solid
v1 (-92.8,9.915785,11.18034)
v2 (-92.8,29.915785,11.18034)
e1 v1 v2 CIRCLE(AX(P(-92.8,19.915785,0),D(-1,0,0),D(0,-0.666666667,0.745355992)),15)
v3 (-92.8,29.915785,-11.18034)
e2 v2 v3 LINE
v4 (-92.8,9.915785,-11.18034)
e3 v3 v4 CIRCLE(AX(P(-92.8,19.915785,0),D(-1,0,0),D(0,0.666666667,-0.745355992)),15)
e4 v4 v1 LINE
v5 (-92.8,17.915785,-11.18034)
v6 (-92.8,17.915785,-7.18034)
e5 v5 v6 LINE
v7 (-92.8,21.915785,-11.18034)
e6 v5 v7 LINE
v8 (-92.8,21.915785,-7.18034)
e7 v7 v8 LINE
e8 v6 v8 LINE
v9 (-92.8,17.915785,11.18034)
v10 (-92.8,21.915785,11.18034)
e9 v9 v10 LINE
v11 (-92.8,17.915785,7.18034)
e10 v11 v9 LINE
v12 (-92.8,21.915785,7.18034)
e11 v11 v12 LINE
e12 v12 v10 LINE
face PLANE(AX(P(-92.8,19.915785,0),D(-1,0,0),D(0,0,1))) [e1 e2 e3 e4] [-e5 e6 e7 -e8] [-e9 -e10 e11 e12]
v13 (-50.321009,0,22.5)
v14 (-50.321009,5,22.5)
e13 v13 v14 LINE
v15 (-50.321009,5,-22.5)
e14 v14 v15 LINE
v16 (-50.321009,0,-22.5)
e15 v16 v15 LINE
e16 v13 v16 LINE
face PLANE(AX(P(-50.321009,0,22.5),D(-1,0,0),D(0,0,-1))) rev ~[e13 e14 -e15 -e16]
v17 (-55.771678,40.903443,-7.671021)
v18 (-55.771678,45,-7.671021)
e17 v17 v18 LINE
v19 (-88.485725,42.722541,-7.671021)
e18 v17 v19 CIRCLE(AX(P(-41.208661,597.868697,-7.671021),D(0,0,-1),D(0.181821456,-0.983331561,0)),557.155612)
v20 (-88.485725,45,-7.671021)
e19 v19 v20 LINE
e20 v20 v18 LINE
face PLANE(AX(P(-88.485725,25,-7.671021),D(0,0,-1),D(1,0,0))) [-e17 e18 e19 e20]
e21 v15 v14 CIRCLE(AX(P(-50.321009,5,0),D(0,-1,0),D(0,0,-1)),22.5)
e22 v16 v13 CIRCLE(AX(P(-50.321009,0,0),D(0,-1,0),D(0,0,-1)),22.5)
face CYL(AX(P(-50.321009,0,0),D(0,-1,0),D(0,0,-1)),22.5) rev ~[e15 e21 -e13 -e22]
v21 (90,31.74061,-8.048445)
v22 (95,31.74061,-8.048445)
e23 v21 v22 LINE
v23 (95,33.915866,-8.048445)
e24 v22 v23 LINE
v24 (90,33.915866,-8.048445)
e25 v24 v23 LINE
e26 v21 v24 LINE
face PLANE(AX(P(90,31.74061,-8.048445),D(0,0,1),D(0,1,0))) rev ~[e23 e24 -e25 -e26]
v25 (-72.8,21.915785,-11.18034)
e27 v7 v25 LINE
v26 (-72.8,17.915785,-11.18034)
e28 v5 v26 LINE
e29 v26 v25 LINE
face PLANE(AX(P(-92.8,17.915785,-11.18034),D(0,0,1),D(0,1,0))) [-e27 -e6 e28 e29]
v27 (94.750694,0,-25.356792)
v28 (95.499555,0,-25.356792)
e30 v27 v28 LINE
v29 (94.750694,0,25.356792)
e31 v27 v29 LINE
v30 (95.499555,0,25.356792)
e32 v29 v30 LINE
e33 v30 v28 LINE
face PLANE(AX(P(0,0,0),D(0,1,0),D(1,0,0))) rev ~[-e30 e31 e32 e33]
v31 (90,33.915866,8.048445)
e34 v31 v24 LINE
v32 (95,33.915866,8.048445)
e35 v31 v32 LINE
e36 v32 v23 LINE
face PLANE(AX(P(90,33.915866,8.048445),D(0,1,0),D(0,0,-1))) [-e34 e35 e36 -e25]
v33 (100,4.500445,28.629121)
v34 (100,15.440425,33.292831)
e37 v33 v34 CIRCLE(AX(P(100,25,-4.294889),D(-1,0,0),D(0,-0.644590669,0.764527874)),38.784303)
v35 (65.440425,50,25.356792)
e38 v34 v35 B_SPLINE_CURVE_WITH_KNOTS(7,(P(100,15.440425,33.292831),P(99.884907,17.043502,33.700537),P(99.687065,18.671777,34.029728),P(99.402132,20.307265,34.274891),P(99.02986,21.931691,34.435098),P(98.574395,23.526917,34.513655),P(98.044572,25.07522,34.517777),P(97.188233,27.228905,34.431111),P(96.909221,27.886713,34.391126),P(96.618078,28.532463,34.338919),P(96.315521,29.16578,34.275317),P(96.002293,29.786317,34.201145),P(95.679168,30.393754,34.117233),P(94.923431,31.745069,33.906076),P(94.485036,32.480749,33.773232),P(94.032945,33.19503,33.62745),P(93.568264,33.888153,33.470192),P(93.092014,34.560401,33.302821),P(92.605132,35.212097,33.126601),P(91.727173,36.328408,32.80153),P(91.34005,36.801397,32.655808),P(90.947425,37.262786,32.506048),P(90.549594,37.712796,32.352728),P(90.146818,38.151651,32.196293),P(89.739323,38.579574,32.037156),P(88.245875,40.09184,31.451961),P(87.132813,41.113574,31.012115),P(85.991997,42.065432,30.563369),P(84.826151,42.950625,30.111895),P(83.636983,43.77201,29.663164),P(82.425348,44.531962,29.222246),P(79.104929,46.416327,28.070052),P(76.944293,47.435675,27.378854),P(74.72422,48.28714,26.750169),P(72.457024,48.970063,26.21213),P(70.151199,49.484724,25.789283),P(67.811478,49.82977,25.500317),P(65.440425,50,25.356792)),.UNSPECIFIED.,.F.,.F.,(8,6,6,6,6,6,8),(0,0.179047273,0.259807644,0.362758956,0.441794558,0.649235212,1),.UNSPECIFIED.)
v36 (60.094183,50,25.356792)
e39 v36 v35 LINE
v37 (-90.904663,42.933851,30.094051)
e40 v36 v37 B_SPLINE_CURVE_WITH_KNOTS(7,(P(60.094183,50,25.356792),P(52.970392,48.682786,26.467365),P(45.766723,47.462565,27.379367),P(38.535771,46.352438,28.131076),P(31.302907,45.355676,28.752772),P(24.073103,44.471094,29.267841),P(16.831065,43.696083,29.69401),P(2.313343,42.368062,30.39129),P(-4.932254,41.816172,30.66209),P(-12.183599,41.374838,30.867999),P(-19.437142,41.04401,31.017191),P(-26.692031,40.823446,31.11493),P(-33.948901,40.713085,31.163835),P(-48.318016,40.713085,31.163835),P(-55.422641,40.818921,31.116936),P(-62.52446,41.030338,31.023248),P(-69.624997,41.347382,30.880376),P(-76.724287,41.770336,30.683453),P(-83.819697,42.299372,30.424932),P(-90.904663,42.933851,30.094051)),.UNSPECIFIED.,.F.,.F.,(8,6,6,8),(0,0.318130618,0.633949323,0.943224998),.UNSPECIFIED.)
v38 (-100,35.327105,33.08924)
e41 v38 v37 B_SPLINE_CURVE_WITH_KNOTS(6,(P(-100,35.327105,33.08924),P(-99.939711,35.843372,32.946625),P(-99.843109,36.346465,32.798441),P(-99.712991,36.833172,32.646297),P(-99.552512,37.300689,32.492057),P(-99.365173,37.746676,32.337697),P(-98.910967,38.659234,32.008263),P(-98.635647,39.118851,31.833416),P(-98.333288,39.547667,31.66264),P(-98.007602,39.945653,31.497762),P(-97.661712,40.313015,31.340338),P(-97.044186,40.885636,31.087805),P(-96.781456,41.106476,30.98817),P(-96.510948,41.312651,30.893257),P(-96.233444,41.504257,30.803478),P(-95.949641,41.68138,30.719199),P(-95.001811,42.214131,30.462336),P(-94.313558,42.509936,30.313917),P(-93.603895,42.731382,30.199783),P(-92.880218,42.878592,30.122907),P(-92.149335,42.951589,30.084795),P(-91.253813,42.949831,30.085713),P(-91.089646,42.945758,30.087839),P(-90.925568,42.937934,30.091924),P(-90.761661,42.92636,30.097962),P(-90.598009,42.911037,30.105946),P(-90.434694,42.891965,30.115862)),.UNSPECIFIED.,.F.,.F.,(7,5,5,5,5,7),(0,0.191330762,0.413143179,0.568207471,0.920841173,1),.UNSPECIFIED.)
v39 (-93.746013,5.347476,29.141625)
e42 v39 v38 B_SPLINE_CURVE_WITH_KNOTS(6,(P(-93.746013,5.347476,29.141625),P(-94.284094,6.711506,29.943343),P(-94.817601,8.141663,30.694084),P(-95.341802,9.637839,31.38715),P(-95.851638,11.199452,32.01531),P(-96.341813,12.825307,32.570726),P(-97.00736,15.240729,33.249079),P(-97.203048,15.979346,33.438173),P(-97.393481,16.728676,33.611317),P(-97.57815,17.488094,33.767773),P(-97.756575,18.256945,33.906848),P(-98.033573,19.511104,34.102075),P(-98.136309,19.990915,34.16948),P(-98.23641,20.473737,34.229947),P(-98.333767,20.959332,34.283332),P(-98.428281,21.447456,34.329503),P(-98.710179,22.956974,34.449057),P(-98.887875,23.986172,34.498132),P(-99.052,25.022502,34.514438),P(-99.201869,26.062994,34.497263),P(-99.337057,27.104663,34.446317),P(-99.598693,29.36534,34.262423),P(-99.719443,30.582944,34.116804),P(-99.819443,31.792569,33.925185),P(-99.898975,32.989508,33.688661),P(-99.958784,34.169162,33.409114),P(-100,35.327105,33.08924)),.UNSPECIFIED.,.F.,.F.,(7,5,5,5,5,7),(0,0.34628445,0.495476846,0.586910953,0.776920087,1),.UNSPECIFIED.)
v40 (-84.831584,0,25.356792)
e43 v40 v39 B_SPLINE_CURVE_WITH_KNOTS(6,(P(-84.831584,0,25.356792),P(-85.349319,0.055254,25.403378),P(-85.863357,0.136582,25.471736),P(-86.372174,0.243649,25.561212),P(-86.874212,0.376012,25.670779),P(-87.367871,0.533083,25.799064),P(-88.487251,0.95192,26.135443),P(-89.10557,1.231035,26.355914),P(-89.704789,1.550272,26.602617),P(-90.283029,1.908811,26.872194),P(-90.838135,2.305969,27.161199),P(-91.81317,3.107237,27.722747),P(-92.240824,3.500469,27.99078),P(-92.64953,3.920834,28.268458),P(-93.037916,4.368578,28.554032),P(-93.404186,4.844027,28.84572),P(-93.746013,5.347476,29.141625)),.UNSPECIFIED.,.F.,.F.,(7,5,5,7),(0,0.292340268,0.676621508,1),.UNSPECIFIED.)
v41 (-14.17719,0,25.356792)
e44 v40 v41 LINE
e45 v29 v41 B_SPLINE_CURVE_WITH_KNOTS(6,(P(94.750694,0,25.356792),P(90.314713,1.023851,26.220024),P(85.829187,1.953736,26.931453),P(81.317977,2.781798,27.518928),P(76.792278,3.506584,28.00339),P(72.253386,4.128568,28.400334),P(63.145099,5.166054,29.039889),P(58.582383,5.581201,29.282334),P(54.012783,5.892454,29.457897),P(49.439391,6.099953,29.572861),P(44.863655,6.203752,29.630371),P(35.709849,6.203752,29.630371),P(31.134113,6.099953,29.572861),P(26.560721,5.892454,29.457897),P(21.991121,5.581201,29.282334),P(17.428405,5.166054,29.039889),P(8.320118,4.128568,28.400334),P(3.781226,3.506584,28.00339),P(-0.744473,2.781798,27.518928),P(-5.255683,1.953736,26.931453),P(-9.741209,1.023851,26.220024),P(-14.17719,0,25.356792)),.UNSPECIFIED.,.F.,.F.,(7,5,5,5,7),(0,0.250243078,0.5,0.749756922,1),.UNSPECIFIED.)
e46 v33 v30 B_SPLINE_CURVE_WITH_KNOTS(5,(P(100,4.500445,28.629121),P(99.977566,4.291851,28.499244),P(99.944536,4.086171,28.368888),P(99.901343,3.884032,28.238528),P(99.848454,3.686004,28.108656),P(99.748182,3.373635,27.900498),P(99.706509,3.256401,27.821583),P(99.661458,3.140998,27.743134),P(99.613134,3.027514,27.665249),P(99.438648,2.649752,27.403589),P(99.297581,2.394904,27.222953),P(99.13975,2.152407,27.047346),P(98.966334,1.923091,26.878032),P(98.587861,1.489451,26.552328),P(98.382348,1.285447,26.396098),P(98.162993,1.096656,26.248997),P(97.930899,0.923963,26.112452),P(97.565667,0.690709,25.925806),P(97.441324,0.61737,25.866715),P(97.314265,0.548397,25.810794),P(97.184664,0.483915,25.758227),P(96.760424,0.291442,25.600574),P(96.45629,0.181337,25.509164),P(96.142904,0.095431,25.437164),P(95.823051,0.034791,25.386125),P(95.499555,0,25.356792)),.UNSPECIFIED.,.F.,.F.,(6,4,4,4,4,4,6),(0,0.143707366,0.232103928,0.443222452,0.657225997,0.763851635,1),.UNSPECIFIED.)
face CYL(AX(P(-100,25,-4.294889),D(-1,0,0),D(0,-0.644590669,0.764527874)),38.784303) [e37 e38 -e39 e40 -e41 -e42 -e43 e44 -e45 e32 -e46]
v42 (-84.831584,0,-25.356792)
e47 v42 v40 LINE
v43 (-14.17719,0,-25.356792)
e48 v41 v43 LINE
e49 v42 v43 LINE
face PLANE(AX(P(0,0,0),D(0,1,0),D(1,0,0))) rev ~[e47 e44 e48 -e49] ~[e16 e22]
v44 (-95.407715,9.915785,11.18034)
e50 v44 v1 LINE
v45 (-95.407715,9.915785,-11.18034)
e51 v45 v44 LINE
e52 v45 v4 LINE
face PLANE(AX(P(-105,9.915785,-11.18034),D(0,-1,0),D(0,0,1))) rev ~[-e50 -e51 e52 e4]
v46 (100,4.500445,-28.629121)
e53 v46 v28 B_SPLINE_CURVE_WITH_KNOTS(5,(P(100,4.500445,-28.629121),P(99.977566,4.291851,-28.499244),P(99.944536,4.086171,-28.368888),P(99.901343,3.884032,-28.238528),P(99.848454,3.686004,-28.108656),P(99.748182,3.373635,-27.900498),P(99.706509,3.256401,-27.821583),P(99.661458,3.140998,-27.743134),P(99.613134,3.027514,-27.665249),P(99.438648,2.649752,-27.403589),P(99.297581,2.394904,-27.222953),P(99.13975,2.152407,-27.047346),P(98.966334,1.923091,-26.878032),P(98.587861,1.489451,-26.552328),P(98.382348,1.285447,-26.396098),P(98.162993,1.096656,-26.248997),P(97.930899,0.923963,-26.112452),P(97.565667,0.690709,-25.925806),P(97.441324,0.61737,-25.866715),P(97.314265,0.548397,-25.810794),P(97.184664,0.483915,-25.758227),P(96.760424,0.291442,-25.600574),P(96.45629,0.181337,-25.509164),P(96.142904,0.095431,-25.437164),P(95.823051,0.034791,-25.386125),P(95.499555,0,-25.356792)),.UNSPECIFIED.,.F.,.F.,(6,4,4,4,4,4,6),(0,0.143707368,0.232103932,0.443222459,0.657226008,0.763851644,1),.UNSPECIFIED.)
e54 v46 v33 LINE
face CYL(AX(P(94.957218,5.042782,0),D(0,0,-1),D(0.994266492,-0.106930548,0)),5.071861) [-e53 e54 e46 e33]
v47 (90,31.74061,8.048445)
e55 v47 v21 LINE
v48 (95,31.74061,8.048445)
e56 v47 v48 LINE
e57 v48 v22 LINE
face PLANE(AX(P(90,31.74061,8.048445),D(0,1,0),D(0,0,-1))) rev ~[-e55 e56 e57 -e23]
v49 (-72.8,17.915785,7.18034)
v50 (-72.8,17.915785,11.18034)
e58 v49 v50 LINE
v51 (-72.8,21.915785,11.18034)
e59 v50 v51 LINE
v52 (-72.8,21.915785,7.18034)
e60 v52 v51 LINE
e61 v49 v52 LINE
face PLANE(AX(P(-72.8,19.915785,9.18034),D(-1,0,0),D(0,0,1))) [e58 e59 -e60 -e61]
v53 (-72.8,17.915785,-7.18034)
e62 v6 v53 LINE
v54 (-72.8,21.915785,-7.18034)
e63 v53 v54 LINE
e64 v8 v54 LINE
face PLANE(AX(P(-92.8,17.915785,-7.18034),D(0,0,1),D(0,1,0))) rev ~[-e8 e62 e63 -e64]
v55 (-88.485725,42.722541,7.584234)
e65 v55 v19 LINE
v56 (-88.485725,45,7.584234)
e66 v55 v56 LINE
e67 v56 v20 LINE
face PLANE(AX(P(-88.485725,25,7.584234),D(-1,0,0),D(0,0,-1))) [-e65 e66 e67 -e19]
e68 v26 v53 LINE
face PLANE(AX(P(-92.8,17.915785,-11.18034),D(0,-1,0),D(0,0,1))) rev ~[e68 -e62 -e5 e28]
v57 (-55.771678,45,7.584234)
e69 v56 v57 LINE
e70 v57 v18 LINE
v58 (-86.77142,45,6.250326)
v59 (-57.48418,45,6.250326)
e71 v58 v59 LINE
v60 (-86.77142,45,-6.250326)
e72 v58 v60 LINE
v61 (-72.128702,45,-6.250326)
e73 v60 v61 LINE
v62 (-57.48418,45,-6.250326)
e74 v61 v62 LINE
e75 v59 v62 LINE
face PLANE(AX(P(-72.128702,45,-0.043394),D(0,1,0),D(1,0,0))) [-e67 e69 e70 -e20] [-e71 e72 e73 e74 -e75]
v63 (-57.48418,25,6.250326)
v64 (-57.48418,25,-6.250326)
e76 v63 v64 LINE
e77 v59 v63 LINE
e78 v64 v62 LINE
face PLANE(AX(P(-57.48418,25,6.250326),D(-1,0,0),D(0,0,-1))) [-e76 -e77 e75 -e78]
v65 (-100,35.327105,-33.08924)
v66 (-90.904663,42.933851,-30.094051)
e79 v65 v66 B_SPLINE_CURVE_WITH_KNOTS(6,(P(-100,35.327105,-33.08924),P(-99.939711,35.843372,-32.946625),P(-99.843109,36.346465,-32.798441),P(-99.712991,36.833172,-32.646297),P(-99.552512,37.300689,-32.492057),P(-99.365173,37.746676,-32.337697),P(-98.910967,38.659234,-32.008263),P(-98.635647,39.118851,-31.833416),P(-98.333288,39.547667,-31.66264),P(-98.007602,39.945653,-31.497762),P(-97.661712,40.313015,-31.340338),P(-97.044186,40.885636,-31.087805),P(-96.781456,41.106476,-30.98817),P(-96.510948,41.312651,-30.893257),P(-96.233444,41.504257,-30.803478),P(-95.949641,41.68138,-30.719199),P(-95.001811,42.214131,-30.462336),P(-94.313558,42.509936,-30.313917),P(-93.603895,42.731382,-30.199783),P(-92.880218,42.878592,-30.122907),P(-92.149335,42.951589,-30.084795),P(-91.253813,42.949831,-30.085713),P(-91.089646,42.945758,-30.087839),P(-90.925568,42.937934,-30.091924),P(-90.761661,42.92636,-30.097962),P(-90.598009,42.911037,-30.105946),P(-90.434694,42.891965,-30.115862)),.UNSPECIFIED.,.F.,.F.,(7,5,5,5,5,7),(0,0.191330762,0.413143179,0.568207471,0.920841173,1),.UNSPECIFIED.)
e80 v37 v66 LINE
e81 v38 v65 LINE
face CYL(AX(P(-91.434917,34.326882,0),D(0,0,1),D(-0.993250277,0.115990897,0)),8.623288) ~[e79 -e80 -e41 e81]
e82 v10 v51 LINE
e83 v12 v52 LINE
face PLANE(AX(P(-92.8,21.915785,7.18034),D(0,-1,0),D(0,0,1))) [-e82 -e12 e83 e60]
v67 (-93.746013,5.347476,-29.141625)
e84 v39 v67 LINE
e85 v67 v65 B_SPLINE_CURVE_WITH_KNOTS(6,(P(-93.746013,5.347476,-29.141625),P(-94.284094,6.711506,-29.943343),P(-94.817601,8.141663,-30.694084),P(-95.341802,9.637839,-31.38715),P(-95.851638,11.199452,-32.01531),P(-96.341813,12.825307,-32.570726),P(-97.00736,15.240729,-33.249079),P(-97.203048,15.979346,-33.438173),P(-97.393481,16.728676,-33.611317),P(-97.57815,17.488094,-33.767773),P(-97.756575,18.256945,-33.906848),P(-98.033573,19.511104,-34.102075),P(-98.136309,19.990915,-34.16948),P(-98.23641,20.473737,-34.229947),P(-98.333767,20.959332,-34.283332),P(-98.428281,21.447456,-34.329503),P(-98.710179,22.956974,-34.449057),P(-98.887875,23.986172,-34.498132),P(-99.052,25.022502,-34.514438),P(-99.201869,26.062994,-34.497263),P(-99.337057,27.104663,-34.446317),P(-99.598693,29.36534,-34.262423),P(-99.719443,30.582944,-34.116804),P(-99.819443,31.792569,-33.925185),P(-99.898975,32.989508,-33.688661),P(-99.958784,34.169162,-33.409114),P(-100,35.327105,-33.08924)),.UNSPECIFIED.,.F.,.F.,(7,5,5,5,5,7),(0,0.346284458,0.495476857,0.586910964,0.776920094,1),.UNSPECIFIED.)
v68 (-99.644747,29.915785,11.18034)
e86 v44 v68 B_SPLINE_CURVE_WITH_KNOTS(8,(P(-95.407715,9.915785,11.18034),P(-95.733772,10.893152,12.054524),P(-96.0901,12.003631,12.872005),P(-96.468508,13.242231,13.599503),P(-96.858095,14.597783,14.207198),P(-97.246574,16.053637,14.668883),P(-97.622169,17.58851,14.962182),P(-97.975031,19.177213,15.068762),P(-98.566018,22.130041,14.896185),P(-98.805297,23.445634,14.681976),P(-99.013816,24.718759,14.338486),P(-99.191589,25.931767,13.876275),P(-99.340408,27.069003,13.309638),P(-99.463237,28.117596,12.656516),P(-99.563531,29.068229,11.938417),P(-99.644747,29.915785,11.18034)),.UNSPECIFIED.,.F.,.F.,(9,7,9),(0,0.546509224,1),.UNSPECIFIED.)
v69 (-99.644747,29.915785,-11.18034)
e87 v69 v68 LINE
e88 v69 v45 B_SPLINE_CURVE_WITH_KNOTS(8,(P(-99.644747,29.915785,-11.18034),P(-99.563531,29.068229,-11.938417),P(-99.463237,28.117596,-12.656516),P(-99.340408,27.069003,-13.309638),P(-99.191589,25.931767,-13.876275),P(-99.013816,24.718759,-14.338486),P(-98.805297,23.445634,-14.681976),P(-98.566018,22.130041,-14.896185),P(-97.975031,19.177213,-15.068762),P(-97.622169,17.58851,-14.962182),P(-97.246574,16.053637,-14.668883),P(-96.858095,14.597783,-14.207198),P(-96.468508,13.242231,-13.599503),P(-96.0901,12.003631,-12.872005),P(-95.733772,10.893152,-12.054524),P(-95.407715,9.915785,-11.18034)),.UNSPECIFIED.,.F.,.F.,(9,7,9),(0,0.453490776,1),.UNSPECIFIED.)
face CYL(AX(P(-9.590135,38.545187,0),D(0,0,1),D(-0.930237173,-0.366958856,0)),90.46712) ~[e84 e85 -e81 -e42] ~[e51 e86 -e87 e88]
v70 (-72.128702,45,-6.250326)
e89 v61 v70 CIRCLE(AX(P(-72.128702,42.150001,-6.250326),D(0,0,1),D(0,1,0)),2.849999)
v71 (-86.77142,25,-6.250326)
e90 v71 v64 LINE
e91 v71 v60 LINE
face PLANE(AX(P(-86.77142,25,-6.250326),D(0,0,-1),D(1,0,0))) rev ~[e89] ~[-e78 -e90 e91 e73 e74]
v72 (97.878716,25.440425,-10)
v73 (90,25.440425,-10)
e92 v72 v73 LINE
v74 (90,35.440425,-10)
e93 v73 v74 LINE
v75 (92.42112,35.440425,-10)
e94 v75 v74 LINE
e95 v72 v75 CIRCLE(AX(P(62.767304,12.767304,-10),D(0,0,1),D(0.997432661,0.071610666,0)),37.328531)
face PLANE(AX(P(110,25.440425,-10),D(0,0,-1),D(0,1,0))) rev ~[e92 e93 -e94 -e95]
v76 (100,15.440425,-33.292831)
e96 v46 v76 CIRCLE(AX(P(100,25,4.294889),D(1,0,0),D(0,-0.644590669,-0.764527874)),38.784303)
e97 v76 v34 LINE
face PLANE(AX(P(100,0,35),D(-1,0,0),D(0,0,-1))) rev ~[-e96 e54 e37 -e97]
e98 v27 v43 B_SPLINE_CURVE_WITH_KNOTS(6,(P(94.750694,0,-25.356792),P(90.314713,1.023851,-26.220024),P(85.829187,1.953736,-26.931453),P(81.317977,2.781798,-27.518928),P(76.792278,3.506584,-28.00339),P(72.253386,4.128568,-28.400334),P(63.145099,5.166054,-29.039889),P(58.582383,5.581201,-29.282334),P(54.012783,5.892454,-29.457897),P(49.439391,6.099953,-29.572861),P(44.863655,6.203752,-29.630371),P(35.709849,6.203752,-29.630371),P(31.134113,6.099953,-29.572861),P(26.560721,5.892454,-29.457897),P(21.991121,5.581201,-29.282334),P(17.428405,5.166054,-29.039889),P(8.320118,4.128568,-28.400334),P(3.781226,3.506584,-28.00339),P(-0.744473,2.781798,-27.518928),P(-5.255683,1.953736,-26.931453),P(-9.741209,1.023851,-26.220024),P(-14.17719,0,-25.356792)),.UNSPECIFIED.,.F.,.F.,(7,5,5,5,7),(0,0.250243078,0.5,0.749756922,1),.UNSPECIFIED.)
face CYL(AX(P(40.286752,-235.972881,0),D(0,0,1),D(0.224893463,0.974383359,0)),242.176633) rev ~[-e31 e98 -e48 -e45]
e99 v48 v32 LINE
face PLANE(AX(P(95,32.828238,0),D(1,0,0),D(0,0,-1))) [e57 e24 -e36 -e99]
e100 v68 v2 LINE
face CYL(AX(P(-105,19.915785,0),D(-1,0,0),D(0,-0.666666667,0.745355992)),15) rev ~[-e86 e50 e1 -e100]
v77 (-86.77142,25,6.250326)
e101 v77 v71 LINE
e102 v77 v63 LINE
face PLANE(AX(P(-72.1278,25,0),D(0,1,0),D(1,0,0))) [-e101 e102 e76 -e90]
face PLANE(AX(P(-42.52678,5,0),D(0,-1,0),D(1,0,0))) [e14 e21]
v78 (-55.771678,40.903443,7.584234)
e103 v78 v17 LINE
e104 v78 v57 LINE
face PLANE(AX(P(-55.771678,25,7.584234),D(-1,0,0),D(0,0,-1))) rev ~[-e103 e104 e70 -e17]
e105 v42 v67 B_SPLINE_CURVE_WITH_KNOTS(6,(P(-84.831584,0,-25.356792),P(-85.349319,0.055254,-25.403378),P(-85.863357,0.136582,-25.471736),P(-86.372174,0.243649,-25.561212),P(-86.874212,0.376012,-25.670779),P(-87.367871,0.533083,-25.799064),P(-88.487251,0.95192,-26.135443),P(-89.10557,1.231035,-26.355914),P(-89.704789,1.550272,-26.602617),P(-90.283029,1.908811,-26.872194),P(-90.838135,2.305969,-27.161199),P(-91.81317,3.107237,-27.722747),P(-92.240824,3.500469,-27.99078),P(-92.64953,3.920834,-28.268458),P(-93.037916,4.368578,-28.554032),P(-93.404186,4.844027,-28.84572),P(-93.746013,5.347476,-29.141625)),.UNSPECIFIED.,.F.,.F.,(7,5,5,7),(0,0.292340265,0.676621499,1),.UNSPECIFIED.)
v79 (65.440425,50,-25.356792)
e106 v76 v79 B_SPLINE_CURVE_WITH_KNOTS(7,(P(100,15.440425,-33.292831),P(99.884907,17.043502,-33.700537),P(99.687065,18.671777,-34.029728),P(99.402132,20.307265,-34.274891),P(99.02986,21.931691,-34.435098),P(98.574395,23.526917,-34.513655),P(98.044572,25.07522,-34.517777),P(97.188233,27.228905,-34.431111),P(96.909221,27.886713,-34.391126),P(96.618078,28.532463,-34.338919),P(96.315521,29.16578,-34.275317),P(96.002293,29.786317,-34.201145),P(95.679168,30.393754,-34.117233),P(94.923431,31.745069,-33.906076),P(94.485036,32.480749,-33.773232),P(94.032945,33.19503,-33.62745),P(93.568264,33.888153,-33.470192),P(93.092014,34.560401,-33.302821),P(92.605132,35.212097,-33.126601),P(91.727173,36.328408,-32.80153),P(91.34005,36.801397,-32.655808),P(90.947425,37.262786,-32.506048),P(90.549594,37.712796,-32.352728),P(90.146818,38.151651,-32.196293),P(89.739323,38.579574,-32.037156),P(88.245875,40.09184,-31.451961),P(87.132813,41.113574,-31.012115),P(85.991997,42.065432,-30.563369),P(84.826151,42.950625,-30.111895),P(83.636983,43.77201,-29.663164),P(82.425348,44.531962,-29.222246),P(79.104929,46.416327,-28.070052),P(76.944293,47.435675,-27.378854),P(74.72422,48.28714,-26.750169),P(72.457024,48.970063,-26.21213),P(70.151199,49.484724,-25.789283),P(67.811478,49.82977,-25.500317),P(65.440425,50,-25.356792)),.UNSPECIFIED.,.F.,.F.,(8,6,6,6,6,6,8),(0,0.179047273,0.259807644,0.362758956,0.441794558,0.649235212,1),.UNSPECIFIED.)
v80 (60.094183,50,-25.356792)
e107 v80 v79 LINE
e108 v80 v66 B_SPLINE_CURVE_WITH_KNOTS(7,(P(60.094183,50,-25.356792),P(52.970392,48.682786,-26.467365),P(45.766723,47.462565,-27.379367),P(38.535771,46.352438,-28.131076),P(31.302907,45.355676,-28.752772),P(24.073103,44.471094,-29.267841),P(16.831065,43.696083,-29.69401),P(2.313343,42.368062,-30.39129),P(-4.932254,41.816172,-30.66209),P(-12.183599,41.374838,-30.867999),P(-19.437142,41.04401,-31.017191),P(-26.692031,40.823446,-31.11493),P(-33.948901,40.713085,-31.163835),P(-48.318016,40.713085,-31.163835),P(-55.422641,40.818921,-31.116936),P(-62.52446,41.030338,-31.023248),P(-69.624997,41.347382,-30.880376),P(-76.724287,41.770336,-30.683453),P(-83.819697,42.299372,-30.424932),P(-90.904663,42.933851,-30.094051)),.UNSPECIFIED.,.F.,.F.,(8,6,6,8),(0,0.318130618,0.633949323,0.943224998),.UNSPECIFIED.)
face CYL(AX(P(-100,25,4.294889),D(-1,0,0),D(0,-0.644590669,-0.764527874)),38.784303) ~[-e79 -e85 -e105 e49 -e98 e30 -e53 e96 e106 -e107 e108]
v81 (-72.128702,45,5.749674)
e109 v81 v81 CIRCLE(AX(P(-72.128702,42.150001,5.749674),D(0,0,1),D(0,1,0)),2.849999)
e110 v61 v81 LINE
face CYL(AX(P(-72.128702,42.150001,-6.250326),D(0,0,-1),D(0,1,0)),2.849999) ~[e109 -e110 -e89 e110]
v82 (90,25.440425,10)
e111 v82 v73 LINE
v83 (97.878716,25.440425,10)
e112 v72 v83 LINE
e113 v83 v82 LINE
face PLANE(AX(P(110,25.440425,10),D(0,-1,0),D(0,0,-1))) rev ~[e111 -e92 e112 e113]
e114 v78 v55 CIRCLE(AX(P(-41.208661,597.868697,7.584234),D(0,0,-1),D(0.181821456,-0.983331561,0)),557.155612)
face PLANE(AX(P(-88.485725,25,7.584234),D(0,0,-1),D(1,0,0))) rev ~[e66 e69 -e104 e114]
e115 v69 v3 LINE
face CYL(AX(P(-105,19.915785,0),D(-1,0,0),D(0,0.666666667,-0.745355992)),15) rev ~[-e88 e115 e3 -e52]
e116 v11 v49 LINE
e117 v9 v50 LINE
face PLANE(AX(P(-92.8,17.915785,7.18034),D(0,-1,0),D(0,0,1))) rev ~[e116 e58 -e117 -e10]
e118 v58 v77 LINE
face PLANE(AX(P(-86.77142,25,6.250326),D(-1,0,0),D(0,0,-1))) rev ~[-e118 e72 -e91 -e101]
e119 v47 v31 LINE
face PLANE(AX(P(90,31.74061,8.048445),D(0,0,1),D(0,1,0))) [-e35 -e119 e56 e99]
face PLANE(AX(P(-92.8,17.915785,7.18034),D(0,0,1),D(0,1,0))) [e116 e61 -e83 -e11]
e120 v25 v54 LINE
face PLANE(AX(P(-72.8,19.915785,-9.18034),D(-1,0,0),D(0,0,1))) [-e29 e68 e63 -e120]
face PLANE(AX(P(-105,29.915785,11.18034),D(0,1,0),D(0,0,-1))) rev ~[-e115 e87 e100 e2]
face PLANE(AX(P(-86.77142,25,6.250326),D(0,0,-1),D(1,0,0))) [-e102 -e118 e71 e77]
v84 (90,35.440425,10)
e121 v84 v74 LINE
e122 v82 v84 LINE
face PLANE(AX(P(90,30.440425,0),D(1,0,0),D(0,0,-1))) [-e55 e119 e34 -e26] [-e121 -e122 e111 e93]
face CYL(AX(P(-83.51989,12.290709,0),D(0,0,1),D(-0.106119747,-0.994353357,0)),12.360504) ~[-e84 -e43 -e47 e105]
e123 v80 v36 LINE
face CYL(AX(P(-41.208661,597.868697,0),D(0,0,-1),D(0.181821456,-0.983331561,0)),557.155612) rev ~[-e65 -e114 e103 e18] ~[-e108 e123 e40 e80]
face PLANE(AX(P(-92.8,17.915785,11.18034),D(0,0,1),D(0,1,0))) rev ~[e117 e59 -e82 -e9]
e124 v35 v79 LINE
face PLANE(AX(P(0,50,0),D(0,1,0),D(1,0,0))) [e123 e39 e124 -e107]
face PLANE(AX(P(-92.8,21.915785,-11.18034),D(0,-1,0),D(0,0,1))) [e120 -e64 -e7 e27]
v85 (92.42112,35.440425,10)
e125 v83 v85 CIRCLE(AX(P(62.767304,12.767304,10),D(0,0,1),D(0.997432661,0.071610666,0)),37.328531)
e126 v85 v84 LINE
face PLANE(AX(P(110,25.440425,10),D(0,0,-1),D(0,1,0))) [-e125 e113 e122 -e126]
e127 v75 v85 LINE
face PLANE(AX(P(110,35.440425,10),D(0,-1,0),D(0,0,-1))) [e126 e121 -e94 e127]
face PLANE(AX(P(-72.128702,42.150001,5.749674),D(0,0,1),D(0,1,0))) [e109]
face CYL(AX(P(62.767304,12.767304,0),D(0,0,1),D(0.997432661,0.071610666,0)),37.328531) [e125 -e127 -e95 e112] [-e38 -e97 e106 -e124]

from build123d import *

# Parameters (mm, degrees)
SKETCH1_W           = 200
SKETCH1_H           = 70
BOSS_EXTRUDE1_DEPTH = 50
CUT_EXTRUDE5_DEPTH  = 200
CUT_EXTRUDE6_DEPTH  = 5
CUT_EXTRUDE7_DEPTH  = 40
CUT_EXTRUDE8_DEPTH  = 40
CUT_EXTRUDE9_DEPTH  = 40
SKETCH18_W          = 20
SKETCH18_H          = 10
CUT_EXTRUDE10_DEPTH = 20
SKETCH20_W          = 16.096890916
SKETCH20_H          = 2.175255529
BOSS_EXTRUDE2_DEPTH = 5
SKETCH22_W          = 29.287239855
SKETCH22_H          = 12.500651158
CUT_EXTRUDE11_DEPTH = 20
SKETCH23_W          = 32.71404676
SKETCH23_H          = 15.255254966
SKETCH23_W_2        = 29.287239855
SKETCH23_H_2        = 12.500651158
BOSS_EXTRUDE3_DEPTH = 20
SKETCH25_R          = 2.849998823
BOSS_EXTRUDE4_DEPTH = 12
CUT_EXTRUDE12_DEPTH = 12.2
SKETCH28_W          = 4
SKETCH28_H          = 4
CUT_EXTRUDE13_DEPTH = 20


with BuildPart() as part:
    # Sketch1 → Boss-Extrude1 (new body)
    with BuildSketch(Plane(origin=(0, 0, 0), x_dir=(1, 0, 0), z_dir=(0, 1, 0))):
        Rectangle(SKETCH1_W, SKETCH1_H)
    extrude(amount=BOSS_EXTRUDE1_DEPTH)

    # Sketch13 → Cut-Extrude5 (cut)
    with BuildSketch(Plane.ZY.offset(100)):
        with BuildLine():
            Line((-25.356792072, 50), (-35, 50))
            Line((-35, 50), (-35, 0))
            Line((-35, 0), (-25.356792072, 0))
            ThreePointArc((-25.356792072, 0), (-34.489414432, 25), (-25.356792072, 50))
        make_face()
    cut_extrude5 = extrude(amount=-CUT_EXTRUDE5_DEPTH, mode=Mode.SUBTRACT)

    # Mirror1: Cut-Extrude5 across plane
    add(cut_extrude5.mirror(Plane.XY), mode=Mode.SUBTRACT)

    # Sketch14 → Cut-Extrude6 (cut)
    with BuildSketch(Plane.XZ):
        with BuildLine():
            Line((-50.321008897, 22.5), (-50.321008897, -22.5))
            ThreePointArc((-50.321008897, -22.5), (-27.821008897, 0), (-50.321008897, 22.5))
        make_face()
    extrude(amount=-CUT_EXTRUDE6_DEPTH, mode=Mode.SUBTRACT)

    # Sketch15 → Cut-Extrude7 (cut, symmetric)
    with BuildSketch(Plane.XY):
        with BuildLine():
            Line((-14.177189609, 0), (94.750693697, 0))
            ThreePointArc((94.750693697, 0), (40.286752044, 6.203751873), (-14.177189609, 0))
        make_face()
    extrude(amount=CUT_EXTRUDE7_DEPTH, both=True, mode=Mode.SUBTRACT)

    # Sketch16 → Cut-Extrude8 (cut, symmetric)
    with BuildSketch(Plane.XY):
        with BuildLine():
            ThreePointArc((60.094183349, 50), (-19.72974209, 41.127256564), (-100, 43.823614043))
            Line((-100, 43.823614043), (-100, 50))
            Line((-100, 50), (60.094183349, 50))
        make_face()
        with BuildLine():
            Line((100, 0), (100, 4.500444902))
            ThreePointArc((100, 4.500444902), (98.543565753, 1.456434247), (95.499555098, 0))
            Line((95.499555098, 0), (100, 0))
        make_face()
        with BuildLine():
            ThreePointArc((100, 15.440425267), (89.162561497, 39.162561497), (65.440425267, 50))
            Line((65.440425267, 50), (100, 50))
            Line((100, 50), (100, 15.440425267))
        make_face()
    extrude(amount=CUT_EXTRUDE8_DEPTH, both=True, mode=Mode.SUBTRACT)

    # Sketch17 → Cut-Extrude9 (cut, symmetric)
    with BuildSketch(Plane.XY):
        with BuildLine():
            Line((-90.43469404, 42.891964914), (-105.221514707, 46.920266675))
            Line((-105.221514707, 46.920266675), (-103.893419297, 0))
            Line((-103.893419297, 0), (-84.831583922, 0))
            ThreePointArc((-84.831583922, 0), (-89.878284237, 1.691044202), (-93.746012604, 5.347475777))
            ThreePointArc((-93.746012604, 5.347475777), (-98.150815665, 20.070729134), (-100, 35.327104743))
            ThreePointArc((-100, 35.327104743), (-96.78408086, 41.090574557), (-90.43469404, 42.891964914))
        make_face()
    extrude(amount=CUT_EXTRUDE9_DEPTH, both=True, mode=Mode.SUBTRACT)

    # Sketch18 → Cut-Extrude10 (cut)
    with BuildSketch(Plane(origin=(110, 0, 0), x_dir=(0, 0, -1), z_dir=(1, 0, 0))):
        with Locations((0, 30.440425267)):
            Rectangle(SKETCH18_W, SKETCH18_H)
    extrude(amount=-CUT_EXTRUDE10_DEPTH, mode=Mode.SUBTRACT)

    # Sketch20 → Boss-Extrude2 (add)
    with BuildSketch(Plane(origin=(90, 0, 0), x_dir=(0, 0, -1), z_dir=(1, 0, 0))):
        with Locations((0, 32.828238053)):
            Rectangle(SKETCH20_W, SKETCH20_H)
    extrude(amount=BOSS_EXTRUDE2_DEPTH)

    # Sketch22 → Cut-Extrude11 (cut)
    with BuildSketch(Plane(origin=(0, 25, 0), x_dir=(1, 0, 0), z_dir=(0, 1, 0))):
        with Locations((-72.127800153, 0)):
            Rectangle(SKETCH22_W, SKETCH22_H)
    extrude(amount=CUT_EXTRUDE11_DEPTH, mode=Mode.SUBTRACT)

    # Sketch23 → Boss-Extrude3 (add)
    with BuildSketch(Plane(origin=(0, 25, 0), x_dir=(1, 0, 0), z_dir=(0, 1, 0))):
        with Locations((-72.128701672, 0.043393869)):
            Rectangle(SKETCH23_W, SKETCH23_H)
        with Locations((-72.127800153, 0)):
            Rectangle(SKETCH23_W_2, SKETCH23_H_2, mode=Mode.SUBTRACT)
    extrude(amount=BOSS_EXTRUDE3_DEPTH)

    # Sketch25 → Boss-Extrude4 (add)
    with BuildSketch(Plane.XY.offset(-6.250325579)):
        with Locations(Location((-72.128701672, 42.150001177, 0), (0, 0, 90))):
            Circle(SKETCH25_R)
    extrude(amount=BOSS_EXTRUDE4_DEPTH)

    # Sketch27 → Cut-Extrude12 (cut)
    with BuildSketch(Plane(origin=(-105, 0, 0), x_dir=(0, 0, -1), z_dir=(1, 0, 0))):
        with BuildLine():
            Line((-11.180339887, 29.915784745), (11.180339887, 29.915784745))
            ThreePointArc((11.180339887, 29.915784745), (15, 19.915784745), (11.180339887, 9.915784745))
            Line((11.180339887, 9.915784745), (-11.180339887, 9.915784745))
            ThreePointArc((-11.180339887, 9.915784745), (-15, 19.915784745), (-11.180339887, 29.915784745))
        make_face()
    extrude(amount=CUT_EXTRUDE12_DEPTH, mode=Mode.SUBTRACT)

    # Sketch28 → Cut-Extrude13 (cut)
    with BuildSketch(Plane.ZY.offset(92.8)):
        with Locations((-9.180339887, 19.915784745)):
            Rectangle(SKETCH28_W, SKETCH28_H)
        with Locations((9.180339887, 19.915784745)):
            Rectangle(SKETCH28_W, SKETCH28_H)
    extrude(amount=-CUT_EXTRUDE13_DEPTH, mode=Mode.SUBTRACT)


solid = part.part
